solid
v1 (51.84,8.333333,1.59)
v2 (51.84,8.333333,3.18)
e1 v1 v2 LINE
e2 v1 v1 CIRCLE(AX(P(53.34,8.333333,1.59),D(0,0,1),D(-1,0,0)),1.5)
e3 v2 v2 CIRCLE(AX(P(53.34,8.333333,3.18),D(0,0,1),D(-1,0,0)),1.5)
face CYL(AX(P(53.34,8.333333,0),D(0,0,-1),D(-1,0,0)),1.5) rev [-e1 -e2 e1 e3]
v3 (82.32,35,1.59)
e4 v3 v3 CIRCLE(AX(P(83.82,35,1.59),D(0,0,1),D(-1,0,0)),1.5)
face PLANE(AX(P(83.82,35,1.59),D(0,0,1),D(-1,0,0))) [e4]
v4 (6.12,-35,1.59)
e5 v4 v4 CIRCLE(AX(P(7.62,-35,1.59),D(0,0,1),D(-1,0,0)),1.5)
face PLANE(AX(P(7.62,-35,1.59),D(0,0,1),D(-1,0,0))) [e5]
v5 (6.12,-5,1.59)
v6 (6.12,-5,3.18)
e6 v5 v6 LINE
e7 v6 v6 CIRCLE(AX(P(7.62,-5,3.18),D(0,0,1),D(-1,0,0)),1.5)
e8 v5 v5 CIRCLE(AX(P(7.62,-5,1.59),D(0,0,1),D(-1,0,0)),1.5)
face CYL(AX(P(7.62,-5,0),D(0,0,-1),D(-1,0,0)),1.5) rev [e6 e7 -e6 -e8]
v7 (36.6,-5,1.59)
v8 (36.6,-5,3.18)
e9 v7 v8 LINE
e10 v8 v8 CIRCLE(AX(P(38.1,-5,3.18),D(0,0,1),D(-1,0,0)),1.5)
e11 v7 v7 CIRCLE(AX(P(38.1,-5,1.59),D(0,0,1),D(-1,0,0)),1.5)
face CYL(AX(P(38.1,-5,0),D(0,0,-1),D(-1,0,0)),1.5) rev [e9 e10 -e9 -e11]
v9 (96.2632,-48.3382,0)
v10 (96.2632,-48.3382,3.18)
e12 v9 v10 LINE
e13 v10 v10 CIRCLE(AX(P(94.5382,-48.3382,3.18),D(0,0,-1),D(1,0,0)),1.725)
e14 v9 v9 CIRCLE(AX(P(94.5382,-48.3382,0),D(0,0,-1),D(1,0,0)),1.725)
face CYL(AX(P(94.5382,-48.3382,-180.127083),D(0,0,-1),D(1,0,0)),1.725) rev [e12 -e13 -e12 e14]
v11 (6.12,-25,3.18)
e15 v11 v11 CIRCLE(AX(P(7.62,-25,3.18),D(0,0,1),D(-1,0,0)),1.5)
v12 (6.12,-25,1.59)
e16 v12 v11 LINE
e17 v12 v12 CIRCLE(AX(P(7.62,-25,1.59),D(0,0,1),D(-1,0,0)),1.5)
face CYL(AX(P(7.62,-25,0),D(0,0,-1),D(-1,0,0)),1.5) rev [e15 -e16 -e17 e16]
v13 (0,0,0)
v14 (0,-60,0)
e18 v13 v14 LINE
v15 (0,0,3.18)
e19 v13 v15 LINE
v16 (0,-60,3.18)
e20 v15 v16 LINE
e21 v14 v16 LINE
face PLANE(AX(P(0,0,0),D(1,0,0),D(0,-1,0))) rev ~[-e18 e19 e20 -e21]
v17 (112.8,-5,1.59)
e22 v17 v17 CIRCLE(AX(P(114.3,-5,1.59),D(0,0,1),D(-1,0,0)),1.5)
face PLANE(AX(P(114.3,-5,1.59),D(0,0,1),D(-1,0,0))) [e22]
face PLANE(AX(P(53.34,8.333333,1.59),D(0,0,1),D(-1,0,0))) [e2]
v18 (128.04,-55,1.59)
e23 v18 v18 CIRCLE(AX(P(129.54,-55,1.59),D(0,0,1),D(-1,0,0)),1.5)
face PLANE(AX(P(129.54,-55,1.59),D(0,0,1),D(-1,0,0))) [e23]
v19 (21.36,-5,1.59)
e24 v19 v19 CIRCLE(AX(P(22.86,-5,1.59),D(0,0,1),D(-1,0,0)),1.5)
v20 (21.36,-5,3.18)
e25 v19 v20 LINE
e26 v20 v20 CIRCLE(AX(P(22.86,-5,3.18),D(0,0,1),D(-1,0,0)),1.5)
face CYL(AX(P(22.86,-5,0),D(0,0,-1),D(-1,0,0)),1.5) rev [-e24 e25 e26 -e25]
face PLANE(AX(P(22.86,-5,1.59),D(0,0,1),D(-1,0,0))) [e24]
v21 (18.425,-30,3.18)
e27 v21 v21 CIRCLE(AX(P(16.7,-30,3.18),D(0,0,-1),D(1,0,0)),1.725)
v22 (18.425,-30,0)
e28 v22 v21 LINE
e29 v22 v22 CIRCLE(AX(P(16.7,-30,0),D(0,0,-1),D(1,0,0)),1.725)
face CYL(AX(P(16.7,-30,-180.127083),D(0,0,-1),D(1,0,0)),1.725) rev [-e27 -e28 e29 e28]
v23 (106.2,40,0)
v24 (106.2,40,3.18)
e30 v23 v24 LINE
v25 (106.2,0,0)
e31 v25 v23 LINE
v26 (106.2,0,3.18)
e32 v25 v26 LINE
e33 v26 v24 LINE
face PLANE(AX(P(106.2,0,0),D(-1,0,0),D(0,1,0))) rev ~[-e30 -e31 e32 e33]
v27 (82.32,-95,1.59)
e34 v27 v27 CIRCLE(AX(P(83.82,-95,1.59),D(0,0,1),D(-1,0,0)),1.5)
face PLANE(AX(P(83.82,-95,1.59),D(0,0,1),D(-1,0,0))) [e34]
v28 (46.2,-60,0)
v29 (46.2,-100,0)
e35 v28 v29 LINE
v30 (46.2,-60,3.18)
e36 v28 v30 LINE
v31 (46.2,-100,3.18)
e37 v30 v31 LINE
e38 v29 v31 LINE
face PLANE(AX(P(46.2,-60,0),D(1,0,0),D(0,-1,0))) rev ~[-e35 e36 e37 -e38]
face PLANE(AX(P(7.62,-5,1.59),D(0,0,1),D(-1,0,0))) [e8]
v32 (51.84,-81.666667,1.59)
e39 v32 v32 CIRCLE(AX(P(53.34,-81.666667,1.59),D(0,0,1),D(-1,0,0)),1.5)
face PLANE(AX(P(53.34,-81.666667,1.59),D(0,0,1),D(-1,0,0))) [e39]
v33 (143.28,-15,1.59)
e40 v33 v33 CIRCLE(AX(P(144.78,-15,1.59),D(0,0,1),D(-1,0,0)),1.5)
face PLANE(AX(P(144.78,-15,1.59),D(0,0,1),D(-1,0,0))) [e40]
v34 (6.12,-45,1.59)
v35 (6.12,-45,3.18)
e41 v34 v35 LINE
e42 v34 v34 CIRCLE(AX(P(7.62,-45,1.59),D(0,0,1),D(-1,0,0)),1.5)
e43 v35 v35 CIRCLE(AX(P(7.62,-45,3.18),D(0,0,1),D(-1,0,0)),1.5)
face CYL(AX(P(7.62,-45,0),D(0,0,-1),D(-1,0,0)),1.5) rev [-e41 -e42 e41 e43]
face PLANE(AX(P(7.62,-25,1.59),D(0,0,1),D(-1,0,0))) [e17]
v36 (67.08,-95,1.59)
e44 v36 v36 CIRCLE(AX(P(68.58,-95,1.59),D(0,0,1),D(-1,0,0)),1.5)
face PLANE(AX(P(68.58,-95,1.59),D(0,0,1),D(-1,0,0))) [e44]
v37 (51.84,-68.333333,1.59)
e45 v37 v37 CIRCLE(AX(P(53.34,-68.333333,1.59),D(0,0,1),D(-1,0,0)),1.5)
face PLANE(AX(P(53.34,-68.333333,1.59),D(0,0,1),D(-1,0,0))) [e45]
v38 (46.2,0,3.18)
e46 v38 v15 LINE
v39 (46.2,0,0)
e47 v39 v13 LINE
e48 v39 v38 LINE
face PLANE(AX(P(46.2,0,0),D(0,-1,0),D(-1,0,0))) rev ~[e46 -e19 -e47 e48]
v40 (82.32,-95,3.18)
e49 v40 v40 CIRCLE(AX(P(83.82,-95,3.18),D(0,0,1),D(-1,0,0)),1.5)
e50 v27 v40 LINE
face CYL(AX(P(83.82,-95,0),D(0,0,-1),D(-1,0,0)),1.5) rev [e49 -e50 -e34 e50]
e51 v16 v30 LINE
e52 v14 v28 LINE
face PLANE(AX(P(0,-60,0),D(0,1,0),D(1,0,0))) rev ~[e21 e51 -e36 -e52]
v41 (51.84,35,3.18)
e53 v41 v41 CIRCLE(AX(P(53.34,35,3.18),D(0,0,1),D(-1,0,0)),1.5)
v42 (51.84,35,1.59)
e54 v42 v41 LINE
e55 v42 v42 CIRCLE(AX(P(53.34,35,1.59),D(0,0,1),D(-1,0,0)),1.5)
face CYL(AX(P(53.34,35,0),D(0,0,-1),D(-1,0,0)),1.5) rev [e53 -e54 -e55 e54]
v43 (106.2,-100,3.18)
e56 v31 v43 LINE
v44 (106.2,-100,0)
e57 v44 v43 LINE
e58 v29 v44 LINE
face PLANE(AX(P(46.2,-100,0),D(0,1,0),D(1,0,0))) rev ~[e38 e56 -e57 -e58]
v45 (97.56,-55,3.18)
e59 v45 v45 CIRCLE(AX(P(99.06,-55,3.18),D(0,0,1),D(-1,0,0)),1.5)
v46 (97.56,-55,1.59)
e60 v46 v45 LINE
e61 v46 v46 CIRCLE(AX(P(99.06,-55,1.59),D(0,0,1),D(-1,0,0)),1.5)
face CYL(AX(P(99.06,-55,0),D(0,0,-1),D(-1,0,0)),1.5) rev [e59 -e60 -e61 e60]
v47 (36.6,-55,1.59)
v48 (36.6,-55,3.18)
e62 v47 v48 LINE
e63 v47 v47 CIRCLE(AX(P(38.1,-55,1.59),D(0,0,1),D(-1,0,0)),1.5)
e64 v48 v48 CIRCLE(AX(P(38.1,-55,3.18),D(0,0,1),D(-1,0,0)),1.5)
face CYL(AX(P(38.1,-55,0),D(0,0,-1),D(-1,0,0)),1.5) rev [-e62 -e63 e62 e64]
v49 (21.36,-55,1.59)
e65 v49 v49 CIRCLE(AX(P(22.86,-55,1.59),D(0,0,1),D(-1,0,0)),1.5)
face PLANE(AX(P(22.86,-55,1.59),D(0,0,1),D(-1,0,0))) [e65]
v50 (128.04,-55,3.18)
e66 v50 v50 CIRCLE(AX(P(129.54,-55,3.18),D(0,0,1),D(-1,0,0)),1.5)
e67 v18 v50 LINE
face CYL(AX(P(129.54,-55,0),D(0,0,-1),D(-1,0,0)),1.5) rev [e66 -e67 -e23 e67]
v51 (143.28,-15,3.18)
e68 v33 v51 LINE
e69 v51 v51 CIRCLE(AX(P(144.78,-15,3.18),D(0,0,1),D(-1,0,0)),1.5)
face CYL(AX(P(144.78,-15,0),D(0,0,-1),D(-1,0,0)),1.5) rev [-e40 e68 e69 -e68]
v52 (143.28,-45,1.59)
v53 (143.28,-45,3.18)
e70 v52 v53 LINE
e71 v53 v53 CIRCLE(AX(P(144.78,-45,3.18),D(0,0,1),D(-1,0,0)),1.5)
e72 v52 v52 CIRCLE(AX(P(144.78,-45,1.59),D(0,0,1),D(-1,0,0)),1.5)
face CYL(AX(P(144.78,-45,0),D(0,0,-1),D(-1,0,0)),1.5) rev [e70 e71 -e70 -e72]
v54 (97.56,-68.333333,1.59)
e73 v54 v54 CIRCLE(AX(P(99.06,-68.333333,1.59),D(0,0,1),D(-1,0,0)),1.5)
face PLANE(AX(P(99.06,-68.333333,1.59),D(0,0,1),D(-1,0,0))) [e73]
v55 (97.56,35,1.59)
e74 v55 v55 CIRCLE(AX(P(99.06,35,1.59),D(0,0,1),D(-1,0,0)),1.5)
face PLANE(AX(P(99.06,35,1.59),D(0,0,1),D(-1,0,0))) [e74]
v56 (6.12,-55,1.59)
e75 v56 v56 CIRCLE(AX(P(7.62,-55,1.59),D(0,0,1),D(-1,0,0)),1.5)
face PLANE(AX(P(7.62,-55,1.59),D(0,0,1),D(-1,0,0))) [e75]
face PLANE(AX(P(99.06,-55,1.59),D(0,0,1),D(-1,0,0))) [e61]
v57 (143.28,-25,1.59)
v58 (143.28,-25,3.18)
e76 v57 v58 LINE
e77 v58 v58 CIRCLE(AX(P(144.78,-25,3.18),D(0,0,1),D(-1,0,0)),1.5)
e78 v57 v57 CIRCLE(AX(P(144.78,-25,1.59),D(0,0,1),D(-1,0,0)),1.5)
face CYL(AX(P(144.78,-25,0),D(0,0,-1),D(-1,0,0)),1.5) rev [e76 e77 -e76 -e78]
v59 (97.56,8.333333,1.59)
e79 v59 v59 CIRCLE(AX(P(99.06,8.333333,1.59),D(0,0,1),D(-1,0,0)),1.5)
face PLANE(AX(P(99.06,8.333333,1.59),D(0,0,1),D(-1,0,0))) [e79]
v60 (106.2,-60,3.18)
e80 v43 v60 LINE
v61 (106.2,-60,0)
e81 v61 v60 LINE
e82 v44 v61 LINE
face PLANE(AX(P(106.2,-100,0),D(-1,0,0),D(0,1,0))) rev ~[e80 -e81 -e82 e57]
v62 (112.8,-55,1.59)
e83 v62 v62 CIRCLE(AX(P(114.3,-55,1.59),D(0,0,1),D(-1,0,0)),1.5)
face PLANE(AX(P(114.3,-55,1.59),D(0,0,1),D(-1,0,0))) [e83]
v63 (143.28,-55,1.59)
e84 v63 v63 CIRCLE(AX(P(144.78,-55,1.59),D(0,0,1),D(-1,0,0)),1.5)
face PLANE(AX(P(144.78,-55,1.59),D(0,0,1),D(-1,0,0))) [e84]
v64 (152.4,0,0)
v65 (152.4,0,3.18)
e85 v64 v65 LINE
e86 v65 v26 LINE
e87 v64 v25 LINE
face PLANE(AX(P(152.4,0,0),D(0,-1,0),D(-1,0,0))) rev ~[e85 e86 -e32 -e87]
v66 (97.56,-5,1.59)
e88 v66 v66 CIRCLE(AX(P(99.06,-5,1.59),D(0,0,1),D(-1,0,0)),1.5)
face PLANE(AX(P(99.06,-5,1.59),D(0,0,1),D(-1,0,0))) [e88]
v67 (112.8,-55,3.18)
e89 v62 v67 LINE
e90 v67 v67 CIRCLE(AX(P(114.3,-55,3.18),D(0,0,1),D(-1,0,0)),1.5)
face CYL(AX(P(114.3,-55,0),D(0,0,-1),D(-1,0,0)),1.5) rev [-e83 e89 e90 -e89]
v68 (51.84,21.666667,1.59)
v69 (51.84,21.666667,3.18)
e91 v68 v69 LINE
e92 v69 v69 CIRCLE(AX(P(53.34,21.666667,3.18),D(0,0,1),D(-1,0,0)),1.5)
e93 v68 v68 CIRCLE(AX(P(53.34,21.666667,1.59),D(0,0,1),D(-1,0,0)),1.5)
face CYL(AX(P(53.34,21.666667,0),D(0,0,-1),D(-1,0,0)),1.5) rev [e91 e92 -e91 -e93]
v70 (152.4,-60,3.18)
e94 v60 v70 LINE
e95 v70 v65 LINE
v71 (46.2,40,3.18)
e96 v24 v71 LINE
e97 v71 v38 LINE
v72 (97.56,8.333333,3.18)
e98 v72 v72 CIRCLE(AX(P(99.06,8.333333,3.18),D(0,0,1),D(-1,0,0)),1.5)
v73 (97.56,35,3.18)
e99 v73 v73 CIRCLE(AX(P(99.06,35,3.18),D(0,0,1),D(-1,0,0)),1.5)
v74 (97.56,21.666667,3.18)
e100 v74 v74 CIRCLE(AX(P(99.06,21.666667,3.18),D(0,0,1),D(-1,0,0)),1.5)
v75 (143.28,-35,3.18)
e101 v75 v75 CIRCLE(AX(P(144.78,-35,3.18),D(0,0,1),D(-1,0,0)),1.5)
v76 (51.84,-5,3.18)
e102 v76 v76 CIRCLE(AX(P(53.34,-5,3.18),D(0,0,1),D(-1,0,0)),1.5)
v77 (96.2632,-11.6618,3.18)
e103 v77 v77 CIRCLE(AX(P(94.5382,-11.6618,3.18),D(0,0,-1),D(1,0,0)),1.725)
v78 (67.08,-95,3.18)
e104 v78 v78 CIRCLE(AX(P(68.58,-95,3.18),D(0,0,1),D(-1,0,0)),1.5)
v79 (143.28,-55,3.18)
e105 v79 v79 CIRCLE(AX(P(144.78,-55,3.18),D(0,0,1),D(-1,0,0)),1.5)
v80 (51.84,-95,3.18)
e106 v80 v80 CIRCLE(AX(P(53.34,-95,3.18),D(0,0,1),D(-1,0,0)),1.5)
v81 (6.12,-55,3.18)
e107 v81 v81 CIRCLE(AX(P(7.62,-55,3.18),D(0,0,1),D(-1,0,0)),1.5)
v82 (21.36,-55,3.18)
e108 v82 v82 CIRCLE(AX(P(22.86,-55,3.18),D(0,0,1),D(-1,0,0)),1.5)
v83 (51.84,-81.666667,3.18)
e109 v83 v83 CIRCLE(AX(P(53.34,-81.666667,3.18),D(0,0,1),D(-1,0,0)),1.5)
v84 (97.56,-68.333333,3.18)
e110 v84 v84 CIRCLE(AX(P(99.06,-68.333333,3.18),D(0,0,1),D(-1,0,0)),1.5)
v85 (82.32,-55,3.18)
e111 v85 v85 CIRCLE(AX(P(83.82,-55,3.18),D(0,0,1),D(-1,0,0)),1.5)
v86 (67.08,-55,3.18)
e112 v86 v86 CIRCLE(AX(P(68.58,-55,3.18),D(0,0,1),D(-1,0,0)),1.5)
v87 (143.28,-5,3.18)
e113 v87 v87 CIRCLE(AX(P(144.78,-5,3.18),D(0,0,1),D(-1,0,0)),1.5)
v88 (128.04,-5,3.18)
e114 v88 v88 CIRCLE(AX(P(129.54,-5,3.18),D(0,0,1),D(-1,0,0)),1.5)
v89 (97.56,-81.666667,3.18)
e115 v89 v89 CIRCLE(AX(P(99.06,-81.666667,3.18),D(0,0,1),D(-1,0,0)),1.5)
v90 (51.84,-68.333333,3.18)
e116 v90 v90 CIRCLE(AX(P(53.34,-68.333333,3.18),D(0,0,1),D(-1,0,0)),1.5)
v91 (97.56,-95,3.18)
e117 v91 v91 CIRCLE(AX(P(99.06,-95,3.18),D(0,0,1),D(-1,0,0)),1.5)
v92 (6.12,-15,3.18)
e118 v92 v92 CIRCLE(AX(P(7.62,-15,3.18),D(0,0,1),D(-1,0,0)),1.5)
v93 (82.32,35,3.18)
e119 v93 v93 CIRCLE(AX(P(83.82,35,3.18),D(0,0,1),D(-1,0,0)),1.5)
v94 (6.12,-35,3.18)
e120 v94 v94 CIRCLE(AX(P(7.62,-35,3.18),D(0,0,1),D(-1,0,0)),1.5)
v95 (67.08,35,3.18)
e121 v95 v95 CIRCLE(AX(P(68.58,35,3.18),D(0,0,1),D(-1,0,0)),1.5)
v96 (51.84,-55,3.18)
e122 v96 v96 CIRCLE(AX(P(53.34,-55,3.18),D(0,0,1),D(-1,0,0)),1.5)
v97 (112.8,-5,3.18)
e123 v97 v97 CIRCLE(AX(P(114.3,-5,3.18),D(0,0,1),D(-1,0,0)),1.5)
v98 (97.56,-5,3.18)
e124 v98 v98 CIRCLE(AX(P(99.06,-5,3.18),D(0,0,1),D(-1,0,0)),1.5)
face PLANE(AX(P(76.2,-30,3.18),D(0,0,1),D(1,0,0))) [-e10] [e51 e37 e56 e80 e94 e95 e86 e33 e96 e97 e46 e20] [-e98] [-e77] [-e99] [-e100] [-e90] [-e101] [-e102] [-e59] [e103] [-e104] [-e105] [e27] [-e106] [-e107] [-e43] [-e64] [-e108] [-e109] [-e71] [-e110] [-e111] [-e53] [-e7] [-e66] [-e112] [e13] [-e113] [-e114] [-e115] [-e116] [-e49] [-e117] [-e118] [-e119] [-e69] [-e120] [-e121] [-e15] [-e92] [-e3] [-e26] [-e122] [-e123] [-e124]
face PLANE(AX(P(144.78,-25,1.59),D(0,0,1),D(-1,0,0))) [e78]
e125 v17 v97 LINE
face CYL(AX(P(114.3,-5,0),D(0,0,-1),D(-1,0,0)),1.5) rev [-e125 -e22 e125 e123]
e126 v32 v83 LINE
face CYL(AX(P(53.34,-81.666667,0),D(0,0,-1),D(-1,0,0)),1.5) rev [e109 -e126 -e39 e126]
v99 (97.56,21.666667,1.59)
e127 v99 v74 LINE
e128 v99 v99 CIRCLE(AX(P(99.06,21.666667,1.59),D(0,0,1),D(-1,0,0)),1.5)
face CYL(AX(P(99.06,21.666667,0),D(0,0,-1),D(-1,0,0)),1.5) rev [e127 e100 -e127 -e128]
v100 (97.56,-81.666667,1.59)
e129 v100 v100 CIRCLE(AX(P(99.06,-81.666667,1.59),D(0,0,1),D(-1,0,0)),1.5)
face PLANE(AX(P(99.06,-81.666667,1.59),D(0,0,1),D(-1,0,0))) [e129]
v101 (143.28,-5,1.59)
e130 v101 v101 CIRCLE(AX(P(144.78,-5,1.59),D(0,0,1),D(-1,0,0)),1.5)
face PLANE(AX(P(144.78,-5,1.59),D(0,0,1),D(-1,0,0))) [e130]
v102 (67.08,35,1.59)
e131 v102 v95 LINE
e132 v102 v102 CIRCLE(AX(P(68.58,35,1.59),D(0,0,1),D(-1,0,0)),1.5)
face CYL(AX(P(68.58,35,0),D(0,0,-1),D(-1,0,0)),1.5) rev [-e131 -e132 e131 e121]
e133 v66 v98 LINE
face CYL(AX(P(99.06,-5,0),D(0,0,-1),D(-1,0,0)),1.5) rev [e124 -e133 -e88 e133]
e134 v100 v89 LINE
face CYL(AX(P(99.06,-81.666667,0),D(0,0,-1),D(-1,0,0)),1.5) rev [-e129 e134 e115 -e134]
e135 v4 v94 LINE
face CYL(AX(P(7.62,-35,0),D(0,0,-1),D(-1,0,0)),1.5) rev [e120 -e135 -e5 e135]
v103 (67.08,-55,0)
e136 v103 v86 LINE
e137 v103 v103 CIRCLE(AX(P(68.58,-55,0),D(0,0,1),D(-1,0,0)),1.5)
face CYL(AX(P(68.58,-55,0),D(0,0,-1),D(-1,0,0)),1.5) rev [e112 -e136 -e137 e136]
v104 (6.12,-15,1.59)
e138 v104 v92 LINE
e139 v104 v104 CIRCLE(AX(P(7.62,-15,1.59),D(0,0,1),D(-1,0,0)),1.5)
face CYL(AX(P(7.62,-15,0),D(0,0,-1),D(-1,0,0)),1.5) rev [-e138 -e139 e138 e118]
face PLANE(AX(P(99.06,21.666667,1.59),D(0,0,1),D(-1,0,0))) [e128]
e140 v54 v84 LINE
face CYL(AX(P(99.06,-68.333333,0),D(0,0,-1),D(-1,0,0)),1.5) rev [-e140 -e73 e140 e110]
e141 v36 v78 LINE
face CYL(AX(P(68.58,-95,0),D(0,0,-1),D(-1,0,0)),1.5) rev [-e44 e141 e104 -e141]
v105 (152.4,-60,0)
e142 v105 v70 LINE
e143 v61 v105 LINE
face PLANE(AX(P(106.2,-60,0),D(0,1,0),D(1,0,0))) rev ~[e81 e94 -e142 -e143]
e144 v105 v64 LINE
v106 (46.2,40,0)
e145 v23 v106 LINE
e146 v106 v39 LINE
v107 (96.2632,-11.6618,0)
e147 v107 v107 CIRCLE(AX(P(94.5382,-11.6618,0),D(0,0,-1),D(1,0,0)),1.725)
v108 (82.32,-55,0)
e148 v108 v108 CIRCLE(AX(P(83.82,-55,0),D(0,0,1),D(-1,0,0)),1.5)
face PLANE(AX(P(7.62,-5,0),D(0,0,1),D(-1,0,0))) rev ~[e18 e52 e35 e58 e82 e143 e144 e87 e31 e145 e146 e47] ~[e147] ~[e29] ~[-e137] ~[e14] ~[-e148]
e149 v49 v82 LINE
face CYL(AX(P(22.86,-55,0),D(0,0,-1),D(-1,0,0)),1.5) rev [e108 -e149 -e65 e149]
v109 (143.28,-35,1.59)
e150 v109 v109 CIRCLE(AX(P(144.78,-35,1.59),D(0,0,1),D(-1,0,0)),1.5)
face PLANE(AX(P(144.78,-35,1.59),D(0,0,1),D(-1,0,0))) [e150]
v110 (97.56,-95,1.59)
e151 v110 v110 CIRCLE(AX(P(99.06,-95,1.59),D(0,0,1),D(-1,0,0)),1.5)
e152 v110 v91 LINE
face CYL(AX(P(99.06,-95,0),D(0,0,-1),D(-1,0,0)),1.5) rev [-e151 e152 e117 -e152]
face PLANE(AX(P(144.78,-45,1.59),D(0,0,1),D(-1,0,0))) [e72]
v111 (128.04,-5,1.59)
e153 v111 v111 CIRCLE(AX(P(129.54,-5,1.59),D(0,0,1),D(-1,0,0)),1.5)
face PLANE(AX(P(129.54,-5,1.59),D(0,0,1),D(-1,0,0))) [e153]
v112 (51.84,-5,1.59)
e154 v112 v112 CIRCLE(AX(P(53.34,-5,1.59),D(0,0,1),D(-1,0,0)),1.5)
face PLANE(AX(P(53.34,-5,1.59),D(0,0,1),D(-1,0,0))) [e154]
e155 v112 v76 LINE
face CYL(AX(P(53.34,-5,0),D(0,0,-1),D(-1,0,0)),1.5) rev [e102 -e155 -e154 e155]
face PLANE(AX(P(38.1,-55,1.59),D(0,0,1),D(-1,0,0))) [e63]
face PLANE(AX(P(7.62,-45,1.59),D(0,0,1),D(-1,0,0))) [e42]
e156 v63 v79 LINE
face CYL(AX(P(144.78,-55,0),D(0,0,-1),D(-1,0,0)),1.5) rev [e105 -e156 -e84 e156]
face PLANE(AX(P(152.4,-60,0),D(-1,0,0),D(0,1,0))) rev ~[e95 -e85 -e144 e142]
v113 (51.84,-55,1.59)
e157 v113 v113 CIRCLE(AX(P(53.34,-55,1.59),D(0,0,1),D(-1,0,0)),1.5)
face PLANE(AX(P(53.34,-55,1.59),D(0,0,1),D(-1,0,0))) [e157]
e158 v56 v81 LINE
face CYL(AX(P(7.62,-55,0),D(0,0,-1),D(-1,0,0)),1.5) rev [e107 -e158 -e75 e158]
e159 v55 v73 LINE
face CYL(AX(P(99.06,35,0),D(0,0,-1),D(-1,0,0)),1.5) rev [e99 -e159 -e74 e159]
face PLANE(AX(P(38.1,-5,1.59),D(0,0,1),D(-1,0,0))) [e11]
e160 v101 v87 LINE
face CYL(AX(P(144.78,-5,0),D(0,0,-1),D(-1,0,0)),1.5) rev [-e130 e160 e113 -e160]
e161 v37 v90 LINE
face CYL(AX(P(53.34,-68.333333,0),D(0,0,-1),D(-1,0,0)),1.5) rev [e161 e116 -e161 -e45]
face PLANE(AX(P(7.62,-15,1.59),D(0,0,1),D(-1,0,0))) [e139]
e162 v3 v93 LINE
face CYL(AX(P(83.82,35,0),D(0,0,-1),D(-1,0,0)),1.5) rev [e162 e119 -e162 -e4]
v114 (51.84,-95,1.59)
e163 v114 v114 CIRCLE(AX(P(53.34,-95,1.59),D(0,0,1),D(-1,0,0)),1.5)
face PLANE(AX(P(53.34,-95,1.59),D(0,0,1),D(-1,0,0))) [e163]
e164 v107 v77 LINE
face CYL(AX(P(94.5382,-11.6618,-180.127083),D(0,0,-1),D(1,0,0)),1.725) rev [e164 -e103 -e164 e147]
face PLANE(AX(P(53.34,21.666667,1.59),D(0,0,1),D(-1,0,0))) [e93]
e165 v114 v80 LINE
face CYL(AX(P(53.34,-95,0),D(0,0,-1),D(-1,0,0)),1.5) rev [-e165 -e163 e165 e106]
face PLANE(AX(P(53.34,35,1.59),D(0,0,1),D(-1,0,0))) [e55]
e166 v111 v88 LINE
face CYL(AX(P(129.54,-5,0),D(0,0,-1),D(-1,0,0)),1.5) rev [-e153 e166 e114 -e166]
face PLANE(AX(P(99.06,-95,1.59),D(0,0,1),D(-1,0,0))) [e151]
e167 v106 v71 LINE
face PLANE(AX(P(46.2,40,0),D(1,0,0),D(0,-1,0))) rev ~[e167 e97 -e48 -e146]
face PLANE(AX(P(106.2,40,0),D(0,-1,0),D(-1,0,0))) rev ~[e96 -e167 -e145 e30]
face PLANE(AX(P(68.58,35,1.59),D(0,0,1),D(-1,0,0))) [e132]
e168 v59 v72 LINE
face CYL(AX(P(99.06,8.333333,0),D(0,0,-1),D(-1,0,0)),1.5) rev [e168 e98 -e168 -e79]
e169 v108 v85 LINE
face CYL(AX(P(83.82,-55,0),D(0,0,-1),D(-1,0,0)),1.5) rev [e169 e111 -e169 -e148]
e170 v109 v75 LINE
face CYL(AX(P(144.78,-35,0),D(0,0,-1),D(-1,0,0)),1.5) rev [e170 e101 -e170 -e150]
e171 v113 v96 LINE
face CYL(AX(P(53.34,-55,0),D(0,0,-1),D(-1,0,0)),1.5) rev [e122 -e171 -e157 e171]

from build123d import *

# Parameters (mm, degrees)
SKETCH1_R               = 1.5
BOSS_EXTRUDE1_DEPTH     = 3.18
SKETCH1_6_R             = 1.5
BOSS_EXTRUDE2_DEPTH     = 1.59
CUT_EXTRUDE1_DEPTH      = 183.307082693
CUT_EXTRUDE1_DEPTH_BACK = 183.307082693
SKETCH2_R               = 1.725


with BuildPart() as part:
    # Sketch1 → Boss-Extrude1 (new body)
    with BuildSketch(Plane.XY):
        Polygon((46.2, 0), (0, 0), (0, -60), (46.2, -60), (46.2, -100), (106.2, -100), (106.2, -60), (152.4, -60), (152.4, 0), (106.2, 0), (106.2, 40), (46.2, 40), align=None)
        with Locations((7.62, -55)):
            Circle(SKETCH1_R, mode=Mode.SUBTRACT)
        with Locations((22.86, -55)):
            Circle(SKETCH1_R, mode=Mode.SUBTRACT)
        with Locations((7.62, -45)):
            Circle(SKETCH1_R, mode=Mode.SUBTRACT)
        with Locations((7.62, -35)):
            Circle(SKETCH1_R, mode=Mode.SUBTRACT)
        with Locations((38.1, -55)):
            Circle(SKETCH1_R, mode=Mode.SUBTRACT)
        with Locations((53.34, -55)):
            Circle(SKETCH1_R, mode=Mode.SUBTRACT)
        with Locations((68.58, -55)):
            Circle(SKETCH1_R, mode=Mode.SUBTRACT)
        with Locations((83.82, -55)):
            Circle(SKETCH1_R, mode=Mode.SUBTRACT)
        with Locations((99.06, -55)):
            Circle(SKETCH1_R, mode=Mode.SUBTRACT)
        with Locations((114.3, -55)):
            Circle(SKETCH1_R, mode=Mode.SUBTRACT)
        with Locations((129.54, -55)):
            Circle(SKETCH1_R, mode=Mode.SUBTRACT)
        with Locations((144.78, -55)):
            Circle(SKETCH1_R, mode=Mode.SUBTRACT)
        with Locations((144.78, -45)):
            Circle(SKETCH1_R, mode=Mode.SUBTRACT)
        with Locations((144.78, -35)):
            Circle(SKETCH1_R, mode=Mode.SUBTRACT)
        with Locations((7.62, -25)):
            Circle(SKETCH1_R, mode=Mode.SUBTRACT)
        with Locations((7.62, -15)):
            Circle(SKETCH1_R, mode=Mode.SUBTRACT)
        with Locations((7.62, -5)):
            Circle(SKETCH1_R, mode=Mode.SUBTRACT)
        with Locations((22.86, -5)):
            Circle(SKETCH1_R, mode=Mode.SUBTRACT)
        with Locations((38.1, -5)):
            Circle(SKETCH1_R, mode=Mode.SUBTRACT)
        with Locations((53.34, -5)):
            Circle(SKETCH1_R, mode=Mode.SUBTRACT)
        with Locations((99.06, -5)):
            Circle(SKETCH1_R, mode=Mode.SUBTRACT)
        with Locations((144.78, -25)):
            Circle(SKETCH1_R, mode=Mode.SUBTRACT)
        with Locations((144.78, -15)):
            Circle(SKETCH1_R, mode=Mode.SUBTRACT)
        with Locations((114.3, -5)):
            Circle(SKETCH1_R, mode=Mode.SUBTRACT)
        with Locations((129.54, -5)):
            Circle(SKETCH1_R, mode=Mode.SUBTRACT)
        with Locations((144.78, -5)):
            Circle(SKETCH1_R, mode=Mode.SUBTRACT)
        with Locations((99.06, 35)):
            Circle(SKETCH1_R, mode=Mode.SUBTRACT)
        with Locations((53.34, 8.333333333)):
            Circle(SKETCH1_R, mode=Mode.SUBTRACT)
        with Locations((53.34, 21.666666667)):
            Circle(SKETCH1_R, mode=Mode.SUBTRACT)
        with Locations((53.34, 35)):
            Circle(SKETCH1_R, mode=Mode.SUBTRACT)
        with Locations((68.58, 35)):
            Circle(SKETCH1_R, mode=Mode.SUBTRACT)
        with Locations((99.06, 8.333333333)):
            Circle(SKETCH1_R, mode=Mode.SUBTRACT)
        with Locations((99.06, 21.666666667)):
            Circle(SKETCH1_R, mode=Mode.SUBTRACT)
        with Locations((83.82, 35)):
            Circle(SKETCH1_R, mode=Mode.SUBTRACT)
        with Locations((99.06, -68.333333333)):
            Circle(SKETCH1_R, mode=Mode.SUBTRACT)
        with Locations((53.34, -95)):
            Circle(SKETCH1_R, mode=Mode.SUBTRACT)
        with Locations((68.58, -95)):
            Circle(SKETCH1_R, mode=Mode.SUBTRACT)
        with Locations((53.34, -81.666666667)):
            Circle(SKETCH1_R, mode=Mode.SUBTRACT)
        with Locations((53.34, -68.333333333)):
            Circle(SKETCH1_R, mode=Mode.SUBTRACT)
        with Locations((83.82, -95)):
            Circle(SKETCH1_R, mode=Mode.SUBTRACT)
        with Locations((99.06, -95)):
            Circle(SKETCH1_R, mode=Mode.SUBTRACT)
        with Locations((99.06, -81.666666667)):
            Circle(SKETCH1_R, mode=Mode.SUBTRACT)
    extrude(amount=BOSS_EXTRUDE1_DEPTH)

    # Sketch1<6> → Boss-Extrude2 (add)
    with BuildSketch(Plane.XY):
        with Locations((7.62, -55)):
            Circle(SKETCH1_6_R)
        with Locations((22.86, -55)):
            Circle(SKETCH1_6_R)
        with Locations((38.1, -55)):
            Circle(SKETCH1_6_R)
        with Locations((53.34, -55)):
            Circle(SKETCH1_6_R)
        with Locations((99.06, -55)):
            Circle(SKETCH1_6_R)
        with Locations((114.3, -55)):
            Circle(SKETCH1_6_R)
        with Locations((129.54, -55)):
            Circle(SKETCH1_6_R)
        with Locations((144.78, -55)):
            Circle(SKETCH1_6_R)
        with Locations((53.34, -68.333333333)):
            Circle(SKETCH1_6_R)
        with Locations((53.34, -81.666666667)):
            Circle(SKETCH1_6_R)
        with Locations((53.34, -95)):
            Circle(SKETCH1_6_R)
        with Locations((68.58, -95)):
            Circle(SKETCH1_6_R)
        with Locations((83.82, -95)):
            Circle(SKETCH1_6_R)
        with Locations((99.06, -95)):
            Circle(SKETCH1_6_R)
        with Locations((99.06, -81.666666667)):
            Circle(SKETCH1_6_R)
        with Locations((99.06, -68.333333333)):
            Circle(SKETCH1_6_R)
        with Locations((7.62, -45)):
            Circle(SKETCH1_6_R)
        with Locations((7.62, -35)):
            Circle(SKETCH1_6_R)
        with Locations((144.78, -45)):
            Circle(SKETCH1_6_R)
        with Locations((144.78, -35)):
            Circle(SKETCH1_6_R)
        with Locations((144.78, -25)):
            Circle(SKETCH1_6_R)
        with Locations((144.78, -15)):
            Circle(SKETCH1_6_R)
        with Locations((144.78, -5)):
            Circle(SKETCH1_6_R)
        with Locations((129.54, -5)):
            Circle(SKETCH1_6_R)
        with Locations((114.3, -5)):
            Circle(SKETCH1_6_R)
        with Locations((99.06, -5)):
            Circle(SKETCH1_6_R)
        with Locations((99.06, 8.333333333)):
            Circle(SKETCH1_6_R)
        with Locations((99.06, 21.666666667)):
            Circle(SKETCH1_6_R)
        with Locations((99.06, 35)):
            Circle(SKETCH1_6_R)
        with Locations((83.82, 35)):
            Circle(SKETCH1_6_R)
        with Locations((68.58, 35)):
            Circle(SKETCH1_6_R)
        with Locations((53.34, 35)):
            Circle(SKETCH1_6_R)
        with Locations((53.34, 21.666666667)):
            Circle(SKETCH1_6_R)
        with Locations((53.34, 8.333333333)):
            Circle(SKETCH1_6_R)
        with Locations((53.34, -5)):
            Circle(SKETCH1_6_R)
        with Locations((38.1, -5)):
            Circle(SKETCH1_6_R)
        with Locations((22.86, -5)):
            Circle(SKETCH1_6_R)
        with Locations((7.62, -5)):
            Circle(SKETCH1_6_R)
        with Locations((7.62, -15)):
            Circle(SKETCH1_6_R)
        with Locations((7.62, -25)):
            Circle(SKETCH1_6_R)
    extrude(amount=BOSS_EXTRUDE2_DEPTH)

    # Sketch2 → Cut-Extrude1 (cut, two sides: drawn at the far end of the back side and taken through both)
    with BuildSketch(Plane.XY.offset(3.18).offset(-CUT_EXTRUDE1_DEPTH_BACK)):
        with Locations((94.5382, -11.6618)):
            Circle(SKETCH2_R)
        with Locations((94.5382, -48.3382)):
            Circle(SKETCH2_R)
        with Locations((16.7, -30)):
            Circle(SKETCH2_R)
    extrude(amount=CUT_EXTRUDE1_DEPTH + CUT_EXTRUDE1_DEPTH_BACK, mode=Mode.SUBTRACT)


solid = part.part
